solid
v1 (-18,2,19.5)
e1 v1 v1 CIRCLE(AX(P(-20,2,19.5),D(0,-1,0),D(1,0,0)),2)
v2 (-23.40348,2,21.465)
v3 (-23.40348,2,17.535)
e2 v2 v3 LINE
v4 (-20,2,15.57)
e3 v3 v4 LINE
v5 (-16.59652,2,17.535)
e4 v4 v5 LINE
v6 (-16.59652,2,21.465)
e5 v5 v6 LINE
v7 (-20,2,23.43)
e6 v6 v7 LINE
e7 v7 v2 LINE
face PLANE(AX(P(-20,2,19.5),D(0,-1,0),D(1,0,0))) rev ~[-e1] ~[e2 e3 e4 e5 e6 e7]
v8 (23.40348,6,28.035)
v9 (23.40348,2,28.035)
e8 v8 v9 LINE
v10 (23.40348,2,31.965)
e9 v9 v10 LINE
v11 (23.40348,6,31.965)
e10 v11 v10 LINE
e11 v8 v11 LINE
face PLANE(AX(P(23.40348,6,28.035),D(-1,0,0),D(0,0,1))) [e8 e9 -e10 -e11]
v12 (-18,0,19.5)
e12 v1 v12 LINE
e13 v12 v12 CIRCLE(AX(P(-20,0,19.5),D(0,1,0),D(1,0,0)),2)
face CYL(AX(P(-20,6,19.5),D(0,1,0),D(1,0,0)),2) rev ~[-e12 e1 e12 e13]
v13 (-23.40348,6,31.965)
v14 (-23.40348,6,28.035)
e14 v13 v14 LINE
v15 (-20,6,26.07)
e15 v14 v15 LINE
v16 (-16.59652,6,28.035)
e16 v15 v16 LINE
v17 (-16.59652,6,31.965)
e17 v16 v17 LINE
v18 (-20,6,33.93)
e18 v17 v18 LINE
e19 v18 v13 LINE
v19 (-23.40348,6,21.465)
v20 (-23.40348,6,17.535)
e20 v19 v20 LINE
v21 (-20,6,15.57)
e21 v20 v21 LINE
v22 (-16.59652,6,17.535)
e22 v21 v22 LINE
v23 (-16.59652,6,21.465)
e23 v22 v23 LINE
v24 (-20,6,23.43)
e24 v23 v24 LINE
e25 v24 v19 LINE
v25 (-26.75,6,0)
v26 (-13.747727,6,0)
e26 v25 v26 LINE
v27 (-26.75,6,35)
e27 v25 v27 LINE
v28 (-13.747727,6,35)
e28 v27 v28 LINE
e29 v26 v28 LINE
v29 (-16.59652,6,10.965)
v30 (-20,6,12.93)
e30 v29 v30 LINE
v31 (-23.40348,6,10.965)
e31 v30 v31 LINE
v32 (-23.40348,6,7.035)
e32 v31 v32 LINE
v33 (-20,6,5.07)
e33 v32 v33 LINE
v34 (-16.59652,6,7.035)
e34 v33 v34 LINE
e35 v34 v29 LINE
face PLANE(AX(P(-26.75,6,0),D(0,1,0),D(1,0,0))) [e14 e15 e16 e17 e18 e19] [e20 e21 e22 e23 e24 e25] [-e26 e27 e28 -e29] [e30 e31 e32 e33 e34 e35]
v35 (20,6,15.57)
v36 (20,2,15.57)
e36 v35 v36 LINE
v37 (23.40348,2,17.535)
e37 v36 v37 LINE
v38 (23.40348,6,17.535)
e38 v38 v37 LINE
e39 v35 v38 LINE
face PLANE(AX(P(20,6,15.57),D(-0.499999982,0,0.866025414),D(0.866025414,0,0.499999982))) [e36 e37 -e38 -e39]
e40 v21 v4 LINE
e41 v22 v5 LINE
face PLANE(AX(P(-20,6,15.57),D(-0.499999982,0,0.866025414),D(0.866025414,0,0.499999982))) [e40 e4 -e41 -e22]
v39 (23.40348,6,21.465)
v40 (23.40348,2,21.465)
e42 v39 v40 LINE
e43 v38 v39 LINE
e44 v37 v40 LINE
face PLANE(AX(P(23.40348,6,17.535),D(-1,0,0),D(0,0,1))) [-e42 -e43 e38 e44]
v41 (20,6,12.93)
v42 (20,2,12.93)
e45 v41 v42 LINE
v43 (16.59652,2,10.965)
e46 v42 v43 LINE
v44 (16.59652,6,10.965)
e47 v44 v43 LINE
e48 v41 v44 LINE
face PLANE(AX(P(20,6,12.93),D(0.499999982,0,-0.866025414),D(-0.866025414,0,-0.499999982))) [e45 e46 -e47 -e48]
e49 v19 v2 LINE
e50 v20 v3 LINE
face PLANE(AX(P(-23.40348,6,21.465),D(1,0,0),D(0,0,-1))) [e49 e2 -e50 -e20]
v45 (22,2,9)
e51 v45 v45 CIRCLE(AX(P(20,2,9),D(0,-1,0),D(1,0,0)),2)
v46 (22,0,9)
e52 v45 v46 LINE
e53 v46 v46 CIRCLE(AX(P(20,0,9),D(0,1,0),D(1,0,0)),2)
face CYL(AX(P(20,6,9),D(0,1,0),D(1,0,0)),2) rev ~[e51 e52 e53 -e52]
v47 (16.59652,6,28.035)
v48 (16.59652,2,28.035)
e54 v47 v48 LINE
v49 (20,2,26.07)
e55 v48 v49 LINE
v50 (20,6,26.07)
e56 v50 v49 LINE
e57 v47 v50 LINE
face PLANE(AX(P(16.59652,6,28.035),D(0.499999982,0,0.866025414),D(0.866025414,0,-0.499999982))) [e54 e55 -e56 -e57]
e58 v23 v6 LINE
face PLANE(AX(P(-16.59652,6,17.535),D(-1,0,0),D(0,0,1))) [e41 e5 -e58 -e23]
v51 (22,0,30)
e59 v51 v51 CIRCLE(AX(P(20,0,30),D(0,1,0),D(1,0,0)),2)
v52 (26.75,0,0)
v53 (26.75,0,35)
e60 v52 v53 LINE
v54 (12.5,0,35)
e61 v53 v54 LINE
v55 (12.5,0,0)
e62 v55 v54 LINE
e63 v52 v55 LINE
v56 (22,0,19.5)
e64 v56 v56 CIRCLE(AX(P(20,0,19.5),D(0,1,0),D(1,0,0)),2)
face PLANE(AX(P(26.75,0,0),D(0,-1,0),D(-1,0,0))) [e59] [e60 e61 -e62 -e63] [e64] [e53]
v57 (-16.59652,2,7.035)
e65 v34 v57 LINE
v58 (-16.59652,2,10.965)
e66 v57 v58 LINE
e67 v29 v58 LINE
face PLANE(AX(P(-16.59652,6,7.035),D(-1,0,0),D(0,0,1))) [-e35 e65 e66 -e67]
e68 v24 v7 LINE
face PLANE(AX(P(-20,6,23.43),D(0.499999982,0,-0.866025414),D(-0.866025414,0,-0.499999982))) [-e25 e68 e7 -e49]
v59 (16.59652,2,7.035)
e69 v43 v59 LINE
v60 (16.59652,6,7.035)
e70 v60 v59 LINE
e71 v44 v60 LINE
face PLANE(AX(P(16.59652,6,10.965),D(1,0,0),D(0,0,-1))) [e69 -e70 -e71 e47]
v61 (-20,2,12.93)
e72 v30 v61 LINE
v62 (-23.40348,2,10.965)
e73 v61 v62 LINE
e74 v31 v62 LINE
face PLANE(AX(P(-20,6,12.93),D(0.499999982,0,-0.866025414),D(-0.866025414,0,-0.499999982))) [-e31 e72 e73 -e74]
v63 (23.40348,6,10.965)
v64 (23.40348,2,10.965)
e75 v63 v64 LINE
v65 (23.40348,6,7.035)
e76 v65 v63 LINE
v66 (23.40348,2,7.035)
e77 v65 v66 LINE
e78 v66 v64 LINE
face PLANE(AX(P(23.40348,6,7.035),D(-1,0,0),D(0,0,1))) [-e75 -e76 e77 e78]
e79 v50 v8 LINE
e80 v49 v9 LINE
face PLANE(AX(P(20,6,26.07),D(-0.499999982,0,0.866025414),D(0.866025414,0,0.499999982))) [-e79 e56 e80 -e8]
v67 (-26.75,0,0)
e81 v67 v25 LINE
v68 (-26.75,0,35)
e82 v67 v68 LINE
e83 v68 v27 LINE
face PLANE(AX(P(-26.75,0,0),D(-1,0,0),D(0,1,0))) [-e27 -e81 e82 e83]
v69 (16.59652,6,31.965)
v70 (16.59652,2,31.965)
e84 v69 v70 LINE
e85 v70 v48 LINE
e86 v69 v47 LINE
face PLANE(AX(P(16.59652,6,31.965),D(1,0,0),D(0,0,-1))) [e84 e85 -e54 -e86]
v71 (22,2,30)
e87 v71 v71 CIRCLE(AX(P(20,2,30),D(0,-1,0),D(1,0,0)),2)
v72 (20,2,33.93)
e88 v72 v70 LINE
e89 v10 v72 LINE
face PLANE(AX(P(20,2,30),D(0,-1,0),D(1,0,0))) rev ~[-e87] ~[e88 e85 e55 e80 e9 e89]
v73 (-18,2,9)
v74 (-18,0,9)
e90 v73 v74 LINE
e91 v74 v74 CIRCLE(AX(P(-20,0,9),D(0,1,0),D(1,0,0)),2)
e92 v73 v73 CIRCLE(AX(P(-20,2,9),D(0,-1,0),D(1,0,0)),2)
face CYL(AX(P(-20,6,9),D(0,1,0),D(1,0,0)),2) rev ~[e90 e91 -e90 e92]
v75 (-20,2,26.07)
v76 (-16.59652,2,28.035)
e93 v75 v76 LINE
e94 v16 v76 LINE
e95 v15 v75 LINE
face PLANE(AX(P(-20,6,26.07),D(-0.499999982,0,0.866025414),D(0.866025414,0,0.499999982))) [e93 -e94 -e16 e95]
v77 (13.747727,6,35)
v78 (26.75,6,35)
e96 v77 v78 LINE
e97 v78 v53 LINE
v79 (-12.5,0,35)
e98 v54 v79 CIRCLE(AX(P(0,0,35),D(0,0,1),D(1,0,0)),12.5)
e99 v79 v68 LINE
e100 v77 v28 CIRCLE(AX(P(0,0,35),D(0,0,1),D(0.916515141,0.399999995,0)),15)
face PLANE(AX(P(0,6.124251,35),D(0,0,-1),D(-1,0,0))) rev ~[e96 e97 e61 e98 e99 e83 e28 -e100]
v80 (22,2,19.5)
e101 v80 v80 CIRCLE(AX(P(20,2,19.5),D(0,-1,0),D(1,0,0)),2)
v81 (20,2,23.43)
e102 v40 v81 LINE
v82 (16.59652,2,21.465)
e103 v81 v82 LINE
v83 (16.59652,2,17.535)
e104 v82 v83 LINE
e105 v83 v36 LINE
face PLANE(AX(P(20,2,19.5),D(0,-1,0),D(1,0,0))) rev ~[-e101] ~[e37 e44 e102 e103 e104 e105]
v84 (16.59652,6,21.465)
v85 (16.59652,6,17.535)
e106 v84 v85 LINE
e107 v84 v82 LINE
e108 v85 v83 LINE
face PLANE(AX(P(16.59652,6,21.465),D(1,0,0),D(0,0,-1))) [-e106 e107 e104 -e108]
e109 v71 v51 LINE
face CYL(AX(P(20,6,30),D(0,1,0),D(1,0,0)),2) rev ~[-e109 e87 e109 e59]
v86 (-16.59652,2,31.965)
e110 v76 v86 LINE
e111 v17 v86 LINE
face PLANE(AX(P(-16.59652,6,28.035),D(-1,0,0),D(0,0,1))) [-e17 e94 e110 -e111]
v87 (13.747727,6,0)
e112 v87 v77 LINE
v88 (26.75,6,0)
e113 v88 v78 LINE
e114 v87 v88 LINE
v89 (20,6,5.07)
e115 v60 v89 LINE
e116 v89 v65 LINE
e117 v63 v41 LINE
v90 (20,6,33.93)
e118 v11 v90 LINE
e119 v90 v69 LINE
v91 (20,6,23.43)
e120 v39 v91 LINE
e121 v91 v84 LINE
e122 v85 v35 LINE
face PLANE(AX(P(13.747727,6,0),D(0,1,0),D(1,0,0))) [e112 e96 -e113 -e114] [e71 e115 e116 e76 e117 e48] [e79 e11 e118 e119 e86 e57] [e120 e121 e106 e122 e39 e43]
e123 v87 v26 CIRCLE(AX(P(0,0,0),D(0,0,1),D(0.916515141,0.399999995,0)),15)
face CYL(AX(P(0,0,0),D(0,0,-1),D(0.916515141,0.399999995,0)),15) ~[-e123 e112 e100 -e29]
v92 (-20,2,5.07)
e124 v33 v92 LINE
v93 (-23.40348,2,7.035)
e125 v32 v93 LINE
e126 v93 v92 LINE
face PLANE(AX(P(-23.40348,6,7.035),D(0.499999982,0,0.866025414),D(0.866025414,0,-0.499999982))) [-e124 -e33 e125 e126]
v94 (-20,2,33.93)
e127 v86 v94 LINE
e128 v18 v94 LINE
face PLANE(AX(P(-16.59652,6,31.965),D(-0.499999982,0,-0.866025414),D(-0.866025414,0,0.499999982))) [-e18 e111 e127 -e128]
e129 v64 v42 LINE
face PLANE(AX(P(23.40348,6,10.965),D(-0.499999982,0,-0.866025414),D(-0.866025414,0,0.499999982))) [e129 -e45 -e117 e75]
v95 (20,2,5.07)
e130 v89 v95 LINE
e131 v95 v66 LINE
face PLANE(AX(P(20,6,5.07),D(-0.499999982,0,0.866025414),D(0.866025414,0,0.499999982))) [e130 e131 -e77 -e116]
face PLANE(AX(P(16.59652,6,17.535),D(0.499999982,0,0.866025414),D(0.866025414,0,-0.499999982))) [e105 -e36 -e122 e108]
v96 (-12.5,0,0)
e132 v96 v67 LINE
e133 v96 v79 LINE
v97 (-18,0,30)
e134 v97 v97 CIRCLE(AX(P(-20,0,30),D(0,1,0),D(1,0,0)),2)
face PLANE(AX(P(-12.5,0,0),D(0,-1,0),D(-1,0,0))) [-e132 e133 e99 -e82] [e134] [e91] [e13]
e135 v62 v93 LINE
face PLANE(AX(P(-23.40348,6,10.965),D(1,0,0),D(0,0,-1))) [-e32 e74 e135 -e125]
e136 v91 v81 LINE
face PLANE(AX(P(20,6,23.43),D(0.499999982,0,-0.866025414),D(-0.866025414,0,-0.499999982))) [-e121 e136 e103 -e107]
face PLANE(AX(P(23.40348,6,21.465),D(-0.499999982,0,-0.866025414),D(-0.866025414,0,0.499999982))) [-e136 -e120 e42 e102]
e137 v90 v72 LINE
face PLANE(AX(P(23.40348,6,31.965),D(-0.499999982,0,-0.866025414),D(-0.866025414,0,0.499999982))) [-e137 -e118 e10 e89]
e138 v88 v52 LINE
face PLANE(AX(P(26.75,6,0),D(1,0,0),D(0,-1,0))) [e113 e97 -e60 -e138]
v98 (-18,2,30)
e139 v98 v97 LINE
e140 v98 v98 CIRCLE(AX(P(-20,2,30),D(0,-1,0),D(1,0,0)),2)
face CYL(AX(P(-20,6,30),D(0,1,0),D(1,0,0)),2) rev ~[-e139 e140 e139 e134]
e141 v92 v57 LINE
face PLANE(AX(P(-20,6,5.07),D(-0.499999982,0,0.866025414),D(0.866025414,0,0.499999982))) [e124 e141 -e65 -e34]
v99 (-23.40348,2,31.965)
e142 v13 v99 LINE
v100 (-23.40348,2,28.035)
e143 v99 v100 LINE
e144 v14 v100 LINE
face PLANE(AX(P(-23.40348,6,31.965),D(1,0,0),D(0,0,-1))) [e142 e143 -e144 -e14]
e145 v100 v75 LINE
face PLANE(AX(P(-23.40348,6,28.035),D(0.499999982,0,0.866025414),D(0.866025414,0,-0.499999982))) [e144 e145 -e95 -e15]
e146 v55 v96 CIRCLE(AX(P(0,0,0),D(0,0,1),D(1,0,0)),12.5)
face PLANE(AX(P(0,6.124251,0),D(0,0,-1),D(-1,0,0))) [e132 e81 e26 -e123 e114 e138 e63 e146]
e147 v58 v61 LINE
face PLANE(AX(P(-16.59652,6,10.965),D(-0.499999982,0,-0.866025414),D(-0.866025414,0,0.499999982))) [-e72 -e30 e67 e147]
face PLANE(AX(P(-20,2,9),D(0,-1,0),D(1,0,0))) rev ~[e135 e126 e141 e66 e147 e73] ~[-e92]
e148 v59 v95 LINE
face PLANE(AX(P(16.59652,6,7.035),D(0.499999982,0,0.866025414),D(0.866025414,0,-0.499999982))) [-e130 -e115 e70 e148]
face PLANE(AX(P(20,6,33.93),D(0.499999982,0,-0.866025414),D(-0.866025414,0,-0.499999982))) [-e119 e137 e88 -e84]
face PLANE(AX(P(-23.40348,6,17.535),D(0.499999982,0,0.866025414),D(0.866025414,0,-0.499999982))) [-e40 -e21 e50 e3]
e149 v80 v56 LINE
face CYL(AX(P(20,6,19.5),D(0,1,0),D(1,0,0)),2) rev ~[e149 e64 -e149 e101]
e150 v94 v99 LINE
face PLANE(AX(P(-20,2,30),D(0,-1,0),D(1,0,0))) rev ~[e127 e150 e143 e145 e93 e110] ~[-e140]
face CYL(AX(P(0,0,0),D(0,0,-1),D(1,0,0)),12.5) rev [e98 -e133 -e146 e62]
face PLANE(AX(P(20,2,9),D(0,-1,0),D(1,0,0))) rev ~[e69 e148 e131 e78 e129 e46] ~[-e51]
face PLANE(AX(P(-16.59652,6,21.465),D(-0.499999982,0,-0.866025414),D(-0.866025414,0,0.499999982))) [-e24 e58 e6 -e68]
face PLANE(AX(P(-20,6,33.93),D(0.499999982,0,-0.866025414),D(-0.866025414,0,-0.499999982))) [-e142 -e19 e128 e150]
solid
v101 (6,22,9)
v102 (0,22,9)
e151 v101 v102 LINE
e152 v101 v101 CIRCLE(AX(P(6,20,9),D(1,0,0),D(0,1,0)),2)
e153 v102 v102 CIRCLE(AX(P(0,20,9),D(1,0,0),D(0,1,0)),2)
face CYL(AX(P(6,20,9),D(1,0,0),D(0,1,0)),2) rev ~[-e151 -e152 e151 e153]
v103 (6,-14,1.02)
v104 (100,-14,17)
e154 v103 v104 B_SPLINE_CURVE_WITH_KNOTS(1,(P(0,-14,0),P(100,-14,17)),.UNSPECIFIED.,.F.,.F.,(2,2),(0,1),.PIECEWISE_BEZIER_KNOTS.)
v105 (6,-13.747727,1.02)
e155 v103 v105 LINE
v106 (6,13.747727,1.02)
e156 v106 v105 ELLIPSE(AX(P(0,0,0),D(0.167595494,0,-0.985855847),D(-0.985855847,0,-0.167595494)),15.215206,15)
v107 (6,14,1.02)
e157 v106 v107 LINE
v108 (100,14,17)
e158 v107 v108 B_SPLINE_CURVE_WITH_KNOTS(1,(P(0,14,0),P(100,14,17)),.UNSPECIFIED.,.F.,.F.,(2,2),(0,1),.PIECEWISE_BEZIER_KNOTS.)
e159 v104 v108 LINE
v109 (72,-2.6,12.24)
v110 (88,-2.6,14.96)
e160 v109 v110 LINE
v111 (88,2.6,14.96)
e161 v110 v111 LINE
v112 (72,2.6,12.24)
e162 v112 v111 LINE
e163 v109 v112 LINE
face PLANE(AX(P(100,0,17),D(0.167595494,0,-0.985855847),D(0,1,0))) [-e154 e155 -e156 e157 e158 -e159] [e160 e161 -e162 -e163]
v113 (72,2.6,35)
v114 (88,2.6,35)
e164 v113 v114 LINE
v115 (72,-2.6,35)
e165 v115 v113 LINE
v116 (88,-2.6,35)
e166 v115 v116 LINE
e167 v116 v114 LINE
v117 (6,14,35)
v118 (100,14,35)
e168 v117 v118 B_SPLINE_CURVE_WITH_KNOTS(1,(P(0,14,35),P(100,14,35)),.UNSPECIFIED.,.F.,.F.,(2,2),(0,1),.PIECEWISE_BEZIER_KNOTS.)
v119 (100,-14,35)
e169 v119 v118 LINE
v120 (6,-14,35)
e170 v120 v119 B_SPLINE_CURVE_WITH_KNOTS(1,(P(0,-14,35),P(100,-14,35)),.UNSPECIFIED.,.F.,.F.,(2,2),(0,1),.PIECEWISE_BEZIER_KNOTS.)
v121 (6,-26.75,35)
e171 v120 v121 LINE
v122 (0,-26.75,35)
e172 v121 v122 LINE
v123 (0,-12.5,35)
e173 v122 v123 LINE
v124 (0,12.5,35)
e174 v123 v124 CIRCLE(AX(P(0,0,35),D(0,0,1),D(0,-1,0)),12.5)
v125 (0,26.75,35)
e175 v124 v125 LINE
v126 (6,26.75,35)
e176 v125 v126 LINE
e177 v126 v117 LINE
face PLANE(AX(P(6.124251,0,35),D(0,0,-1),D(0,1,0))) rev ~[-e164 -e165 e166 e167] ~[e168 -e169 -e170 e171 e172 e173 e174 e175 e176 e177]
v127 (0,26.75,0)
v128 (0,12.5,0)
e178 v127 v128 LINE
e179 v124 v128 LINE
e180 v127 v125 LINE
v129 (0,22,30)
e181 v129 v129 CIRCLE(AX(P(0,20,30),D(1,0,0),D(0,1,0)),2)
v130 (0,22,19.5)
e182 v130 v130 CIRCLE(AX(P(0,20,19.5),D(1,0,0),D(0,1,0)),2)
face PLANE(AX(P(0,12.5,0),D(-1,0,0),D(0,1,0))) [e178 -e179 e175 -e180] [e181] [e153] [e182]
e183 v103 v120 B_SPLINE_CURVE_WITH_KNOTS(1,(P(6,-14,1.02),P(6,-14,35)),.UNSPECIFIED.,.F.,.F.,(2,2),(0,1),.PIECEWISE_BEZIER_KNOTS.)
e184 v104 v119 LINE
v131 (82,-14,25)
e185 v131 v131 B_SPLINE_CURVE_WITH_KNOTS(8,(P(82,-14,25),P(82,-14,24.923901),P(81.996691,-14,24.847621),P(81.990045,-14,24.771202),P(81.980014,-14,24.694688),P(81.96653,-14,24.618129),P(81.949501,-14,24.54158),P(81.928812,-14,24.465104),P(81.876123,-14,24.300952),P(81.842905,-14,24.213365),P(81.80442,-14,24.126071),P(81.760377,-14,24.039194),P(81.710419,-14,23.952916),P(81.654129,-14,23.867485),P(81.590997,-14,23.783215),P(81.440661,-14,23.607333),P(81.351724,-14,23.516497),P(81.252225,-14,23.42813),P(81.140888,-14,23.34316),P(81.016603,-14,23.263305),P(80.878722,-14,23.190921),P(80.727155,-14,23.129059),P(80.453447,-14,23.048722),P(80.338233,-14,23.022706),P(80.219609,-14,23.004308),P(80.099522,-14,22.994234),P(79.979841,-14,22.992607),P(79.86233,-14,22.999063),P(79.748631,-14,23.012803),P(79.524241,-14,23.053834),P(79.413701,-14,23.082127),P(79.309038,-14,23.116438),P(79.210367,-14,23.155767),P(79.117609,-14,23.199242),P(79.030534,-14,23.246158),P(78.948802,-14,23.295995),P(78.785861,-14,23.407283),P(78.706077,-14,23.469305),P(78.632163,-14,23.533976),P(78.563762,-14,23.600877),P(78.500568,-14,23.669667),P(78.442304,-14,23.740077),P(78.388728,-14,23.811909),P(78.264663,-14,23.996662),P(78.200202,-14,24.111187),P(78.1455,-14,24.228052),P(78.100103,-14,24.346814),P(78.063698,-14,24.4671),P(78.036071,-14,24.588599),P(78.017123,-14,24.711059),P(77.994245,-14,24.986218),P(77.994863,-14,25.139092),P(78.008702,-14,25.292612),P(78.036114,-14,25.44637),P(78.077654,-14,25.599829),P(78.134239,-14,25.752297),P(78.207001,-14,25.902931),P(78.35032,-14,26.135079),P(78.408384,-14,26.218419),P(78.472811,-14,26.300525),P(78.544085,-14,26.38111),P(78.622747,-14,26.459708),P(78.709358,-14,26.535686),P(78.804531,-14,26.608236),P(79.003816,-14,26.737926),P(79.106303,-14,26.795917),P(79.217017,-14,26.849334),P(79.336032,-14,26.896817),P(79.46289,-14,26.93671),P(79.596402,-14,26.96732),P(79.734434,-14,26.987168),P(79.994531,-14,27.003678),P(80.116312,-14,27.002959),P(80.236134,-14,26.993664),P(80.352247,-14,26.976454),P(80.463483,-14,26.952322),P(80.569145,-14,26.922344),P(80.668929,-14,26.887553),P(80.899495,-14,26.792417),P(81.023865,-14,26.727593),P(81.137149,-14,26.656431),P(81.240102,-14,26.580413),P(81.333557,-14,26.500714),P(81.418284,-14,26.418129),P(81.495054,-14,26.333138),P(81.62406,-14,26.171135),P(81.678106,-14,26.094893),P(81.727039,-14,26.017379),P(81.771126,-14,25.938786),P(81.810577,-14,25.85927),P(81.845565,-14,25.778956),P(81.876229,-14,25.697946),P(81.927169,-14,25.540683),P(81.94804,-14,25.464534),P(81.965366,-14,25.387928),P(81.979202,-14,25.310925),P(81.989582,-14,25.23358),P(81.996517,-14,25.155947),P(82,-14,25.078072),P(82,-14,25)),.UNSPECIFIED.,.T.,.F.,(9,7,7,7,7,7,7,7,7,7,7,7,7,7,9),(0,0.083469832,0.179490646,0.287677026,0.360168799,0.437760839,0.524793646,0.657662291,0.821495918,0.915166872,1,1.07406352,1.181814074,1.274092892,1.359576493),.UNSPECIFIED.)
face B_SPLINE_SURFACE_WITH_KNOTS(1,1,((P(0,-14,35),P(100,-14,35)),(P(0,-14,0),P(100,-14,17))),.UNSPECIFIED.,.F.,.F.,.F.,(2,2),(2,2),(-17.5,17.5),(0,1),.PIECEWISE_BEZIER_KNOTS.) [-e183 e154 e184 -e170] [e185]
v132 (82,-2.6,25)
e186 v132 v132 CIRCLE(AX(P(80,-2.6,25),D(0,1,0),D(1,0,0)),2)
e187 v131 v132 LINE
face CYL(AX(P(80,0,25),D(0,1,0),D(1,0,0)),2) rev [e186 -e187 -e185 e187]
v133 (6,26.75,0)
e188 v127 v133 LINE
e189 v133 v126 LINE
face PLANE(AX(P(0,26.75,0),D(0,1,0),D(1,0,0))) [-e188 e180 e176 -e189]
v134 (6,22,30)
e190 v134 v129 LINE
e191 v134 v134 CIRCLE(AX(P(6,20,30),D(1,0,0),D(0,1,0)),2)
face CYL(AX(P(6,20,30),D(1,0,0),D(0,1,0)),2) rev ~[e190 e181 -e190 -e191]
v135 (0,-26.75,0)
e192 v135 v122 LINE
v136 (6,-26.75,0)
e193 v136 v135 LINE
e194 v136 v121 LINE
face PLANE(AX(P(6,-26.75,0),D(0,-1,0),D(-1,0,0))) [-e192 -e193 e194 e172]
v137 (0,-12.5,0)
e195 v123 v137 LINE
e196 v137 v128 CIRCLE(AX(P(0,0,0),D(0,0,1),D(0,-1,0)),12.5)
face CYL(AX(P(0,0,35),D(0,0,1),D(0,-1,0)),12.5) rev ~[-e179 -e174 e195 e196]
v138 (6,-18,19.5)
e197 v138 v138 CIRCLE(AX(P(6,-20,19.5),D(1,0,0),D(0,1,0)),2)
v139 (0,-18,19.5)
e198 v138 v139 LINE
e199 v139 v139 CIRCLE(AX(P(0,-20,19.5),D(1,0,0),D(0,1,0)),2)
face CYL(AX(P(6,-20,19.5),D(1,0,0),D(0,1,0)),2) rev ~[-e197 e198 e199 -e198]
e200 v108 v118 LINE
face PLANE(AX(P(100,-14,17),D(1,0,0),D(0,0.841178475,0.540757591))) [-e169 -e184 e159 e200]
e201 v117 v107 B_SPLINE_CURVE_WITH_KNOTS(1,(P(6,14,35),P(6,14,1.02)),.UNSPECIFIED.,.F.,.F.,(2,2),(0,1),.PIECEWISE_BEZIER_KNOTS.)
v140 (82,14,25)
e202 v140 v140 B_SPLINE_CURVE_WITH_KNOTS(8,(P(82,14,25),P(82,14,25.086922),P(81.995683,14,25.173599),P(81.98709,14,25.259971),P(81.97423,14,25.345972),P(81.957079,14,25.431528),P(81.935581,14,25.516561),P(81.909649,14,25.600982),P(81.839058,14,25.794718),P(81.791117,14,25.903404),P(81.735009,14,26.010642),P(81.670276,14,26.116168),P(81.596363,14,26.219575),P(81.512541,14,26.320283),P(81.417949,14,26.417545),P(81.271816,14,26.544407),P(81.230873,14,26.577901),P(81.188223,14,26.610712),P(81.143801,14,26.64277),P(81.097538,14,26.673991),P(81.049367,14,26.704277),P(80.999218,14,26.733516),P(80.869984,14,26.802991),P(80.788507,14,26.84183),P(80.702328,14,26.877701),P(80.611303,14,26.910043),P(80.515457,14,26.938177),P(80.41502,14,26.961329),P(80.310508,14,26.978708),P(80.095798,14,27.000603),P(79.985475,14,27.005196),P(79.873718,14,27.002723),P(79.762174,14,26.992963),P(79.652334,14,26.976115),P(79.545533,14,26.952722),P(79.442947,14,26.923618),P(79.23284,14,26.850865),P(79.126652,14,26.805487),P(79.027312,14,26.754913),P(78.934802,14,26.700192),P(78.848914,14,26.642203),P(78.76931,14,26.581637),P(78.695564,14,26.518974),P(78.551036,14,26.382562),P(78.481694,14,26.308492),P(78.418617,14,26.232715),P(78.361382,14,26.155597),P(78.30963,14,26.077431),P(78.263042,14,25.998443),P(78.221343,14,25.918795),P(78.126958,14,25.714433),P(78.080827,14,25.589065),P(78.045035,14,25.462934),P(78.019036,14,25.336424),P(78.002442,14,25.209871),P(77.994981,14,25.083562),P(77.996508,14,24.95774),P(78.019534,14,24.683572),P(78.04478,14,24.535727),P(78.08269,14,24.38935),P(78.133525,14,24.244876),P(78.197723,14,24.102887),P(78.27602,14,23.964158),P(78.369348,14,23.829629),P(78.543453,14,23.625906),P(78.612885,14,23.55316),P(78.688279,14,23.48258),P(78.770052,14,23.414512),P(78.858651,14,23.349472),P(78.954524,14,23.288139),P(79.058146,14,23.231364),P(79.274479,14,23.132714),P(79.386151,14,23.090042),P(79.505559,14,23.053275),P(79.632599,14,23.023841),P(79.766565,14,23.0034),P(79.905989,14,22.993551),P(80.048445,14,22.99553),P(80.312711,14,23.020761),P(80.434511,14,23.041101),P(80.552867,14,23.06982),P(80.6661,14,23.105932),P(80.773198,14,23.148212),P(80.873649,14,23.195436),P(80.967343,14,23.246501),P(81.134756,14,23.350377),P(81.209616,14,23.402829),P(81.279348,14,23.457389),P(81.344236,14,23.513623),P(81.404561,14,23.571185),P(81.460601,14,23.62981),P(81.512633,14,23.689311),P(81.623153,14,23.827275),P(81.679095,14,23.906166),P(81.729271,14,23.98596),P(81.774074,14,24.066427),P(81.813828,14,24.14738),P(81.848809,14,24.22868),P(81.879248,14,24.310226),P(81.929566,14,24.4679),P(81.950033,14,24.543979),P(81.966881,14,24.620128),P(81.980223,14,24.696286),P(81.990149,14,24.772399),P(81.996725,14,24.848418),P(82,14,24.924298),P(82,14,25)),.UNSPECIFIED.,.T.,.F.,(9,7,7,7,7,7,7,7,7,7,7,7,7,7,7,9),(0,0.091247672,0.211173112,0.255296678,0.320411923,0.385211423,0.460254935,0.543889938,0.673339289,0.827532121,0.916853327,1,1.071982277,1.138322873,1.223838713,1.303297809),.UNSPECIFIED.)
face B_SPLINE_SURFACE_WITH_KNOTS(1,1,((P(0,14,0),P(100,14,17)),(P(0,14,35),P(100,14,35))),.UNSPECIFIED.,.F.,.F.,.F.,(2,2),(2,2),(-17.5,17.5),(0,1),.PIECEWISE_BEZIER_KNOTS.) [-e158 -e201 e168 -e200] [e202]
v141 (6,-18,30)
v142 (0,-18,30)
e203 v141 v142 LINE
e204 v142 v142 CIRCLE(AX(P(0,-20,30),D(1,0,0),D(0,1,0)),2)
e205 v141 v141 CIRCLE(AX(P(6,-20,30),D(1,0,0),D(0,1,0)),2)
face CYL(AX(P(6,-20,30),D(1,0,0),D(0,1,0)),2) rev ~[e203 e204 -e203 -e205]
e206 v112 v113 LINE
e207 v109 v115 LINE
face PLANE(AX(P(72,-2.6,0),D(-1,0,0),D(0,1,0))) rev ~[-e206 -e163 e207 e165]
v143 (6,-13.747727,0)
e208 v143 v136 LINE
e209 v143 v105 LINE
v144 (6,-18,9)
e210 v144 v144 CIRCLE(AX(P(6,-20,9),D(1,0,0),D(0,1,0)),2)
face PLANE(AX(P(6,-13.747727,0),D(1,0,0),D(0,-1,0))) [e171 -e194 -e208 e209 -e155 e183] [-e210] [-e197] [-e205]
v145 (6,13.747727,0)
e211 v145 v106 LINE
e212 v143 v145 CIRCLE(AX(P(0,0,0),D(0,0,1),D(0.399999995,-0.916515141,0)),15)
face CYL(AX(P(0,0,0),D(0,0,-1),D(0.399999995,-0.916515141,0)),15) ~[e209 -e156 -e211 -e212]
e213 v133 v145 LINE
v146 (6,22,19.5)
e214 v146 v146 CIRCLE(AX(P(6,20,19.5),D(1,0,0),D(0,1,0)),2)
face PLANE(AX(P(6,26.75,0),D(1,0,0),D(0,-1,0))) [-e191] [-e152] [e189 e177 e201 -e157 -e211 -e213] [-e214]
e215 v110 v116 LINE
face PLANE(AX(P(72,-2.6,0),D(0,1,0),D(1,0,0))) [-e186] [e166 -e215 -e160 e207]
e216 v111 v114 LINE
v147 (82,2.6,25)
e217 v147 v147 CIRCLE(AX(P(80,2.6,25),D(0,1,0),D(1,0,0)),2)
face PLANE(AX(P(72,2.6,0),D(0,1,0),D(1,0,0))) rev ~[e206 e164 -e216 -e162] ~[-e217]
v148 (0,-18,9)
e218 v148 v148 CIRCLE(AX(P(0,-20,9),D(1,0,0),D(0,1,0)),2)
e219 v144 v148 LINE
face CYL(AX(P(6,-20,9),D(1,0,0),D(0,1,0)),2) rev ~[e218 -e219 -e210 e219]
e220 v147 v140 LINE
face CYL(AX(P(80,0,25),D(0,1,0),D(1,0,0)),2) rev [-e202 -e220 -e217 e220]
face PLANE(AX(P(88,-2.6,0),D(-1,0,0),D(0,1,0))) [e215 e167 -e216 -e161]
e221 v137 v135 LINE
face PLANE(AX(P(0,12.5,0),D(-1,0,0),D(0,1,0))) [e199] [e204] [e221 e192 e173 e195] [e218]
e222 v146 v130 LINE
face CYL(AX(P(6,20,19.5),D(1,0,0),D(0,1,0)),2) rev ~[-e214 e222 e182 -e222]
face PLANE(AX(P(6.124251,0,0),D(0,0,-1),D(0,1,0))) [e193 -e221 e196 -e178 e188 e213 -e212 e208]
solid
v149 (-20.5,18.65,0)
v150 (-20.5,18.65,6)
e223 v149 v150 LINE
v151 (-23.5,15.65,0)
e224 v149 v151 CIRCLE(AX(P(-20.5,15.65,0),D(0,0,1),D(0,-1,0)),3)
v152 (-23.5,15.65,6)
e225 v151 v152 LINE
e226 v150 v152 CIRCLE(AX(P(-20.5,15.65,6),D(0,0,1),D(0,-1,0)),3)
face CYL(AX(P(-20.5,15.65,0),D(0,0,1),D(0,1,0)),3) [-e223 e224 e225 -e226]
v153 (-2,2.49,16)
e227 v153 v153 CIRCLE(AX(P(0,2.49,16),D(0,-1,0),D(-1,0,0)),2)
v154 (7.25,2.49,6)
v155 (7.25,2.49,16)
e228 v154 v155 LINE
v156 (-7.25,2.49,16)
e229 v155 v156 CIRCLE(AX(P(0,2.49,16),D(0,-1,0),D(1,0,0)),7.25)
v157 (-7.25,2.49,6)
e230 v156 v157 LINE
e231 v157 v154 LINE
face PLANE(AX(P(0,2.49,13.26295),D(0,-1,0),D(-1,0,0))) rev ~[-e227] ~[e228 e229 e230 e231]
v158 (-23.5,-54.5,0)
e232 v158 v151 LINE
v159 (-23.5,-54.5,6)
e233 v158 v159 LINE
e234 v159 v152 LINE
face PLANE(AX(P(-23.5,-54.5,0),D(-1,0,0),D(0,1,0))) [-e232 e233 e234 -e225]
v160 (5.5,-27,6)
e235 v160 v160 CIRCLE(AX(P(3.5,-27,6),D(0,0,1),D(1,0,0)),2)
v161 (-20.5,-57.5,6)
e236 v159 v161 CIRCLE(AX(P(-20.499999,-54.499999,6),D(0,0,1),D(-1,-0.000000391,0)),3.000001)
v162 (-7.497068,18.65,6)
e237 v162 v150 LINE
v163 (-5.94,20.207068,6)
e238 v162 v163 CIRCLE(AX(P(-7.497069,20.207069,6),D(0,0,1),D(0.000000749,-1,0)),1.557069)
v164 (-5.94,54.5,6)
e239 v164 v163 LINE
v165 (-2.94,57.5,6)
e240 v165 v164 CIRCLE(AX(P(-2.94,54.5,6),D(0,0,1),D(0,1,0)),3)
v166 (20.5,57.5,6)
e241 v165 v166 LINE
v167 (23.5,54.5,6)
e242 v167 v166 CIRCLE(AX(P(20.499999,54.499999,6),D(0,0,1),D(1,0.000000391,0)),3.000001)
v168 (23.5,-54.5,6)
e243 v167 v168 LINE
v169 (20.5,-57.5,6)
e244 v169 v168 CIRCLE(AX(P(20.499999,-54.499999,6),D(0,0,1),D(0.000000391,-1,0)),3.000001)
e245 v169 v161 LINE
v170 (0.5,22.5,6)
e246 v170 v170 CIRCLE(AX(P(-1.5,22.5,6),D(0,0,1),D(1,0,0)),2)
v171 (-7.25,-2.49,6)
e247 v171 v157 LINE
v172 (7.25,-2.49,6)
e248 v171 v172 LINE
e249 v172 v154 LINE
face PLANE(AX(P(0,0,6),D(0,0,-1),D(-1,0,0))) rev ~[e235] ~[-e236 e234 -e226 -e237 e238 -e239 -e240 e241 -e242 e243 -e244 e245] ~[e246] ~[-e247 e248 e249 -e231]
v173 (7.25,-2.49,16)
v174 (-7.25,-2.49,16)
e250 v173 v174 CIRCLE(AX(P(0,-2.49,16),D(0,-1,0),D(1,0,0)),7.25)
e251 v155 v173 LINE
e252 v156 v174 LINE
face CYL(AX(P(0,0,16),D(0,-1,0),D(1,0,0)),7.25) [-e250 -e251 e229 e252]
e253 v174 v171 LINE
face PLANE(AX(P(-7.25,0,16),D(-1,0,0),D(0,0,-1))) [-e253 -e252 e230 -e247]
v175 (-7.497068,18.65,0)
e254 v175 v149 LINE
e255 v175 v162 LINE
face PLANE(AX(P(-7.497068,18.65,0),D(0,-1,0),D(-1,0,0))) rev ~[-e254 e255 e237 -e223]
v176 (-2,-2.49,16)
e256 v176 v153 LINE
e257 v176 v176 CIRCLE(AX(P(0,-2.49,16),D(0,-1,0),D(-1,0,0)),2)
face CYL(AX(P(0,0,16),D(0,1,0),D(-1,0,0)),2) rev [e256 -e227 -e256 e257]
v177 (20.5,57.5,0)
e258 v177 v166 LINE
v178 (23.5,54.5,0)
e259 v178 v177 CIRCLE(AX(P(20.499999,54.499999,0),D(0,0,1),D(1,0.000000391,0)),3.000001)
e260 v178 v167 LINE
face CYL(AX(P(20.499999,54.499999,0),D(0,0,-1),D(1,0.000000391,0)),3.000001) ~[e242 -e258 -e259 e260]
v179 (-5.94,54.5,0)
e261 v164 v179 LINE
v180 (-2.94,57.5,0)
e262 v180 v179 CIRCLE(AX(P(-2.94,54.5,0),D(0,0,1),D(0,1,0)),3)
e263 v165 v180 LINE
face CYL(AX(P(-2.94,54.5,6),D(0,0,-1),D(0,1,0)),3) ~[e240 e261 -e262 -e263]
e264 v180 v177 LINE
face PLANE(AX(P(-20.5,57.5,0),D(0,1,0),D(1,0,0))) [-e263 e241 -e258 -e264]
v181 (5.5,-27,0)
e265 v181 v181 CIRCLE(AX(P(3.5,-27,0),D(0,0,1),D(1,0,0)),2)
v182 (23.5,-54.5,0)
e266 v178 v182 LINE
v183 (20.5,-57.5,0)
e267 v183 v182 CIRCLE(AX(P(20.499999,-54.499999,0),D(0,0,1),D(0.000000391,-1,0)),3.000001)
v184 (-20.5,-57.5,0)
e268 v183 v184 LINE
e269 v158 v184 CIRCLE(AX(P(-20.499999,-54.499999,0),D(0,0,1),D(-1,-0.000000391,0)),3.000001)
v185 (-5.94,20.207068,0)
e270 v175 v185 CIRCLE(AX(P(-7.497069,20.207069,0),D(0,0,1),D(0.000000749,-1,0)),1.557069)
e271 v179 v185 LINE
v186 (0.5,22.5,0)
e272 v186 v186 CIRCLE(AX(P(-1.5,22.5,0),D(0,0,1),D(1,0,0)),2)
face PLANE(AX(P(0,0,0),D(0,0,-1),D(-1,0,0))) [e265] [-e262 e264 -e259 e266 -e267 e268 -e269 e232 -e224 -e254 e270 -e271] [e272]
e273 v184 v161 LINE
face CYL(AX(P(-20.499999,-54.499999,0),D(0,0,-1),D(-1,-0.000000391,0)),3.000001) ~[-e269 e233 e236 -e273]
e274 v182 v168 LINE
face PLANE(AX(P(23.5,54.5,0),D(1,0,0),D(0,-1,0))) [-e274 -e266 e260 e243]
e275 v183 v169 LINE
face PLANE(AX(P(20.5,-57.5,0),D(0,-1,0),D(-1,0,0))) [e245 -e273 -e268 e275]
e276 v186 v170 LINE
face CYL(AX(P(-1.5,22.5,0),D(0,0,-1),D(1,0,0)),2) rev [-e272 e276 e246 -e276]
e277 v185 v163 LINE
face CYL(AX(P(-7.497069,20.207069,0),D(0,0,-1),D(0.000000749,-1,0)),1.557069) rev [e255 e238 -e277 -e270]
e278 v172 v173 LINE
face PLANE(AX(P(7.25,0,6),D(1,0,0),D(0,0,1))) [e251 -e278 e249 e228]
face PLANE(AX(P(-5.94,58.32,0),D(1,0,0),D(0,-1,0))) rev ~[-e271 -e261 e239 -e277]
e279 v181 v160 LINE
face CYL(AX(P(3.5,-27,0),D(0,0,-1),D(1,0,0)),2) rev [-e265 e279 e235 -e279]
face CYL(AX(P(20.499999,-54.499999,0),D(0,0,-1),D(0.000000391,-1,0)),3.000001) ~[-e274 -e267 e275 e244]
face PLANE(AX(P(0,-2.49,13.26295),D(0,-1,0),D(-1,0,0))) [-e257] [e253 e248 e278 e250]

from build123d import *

# Parameters (mm, degrees)
SKETCH_W                  = 28
SKETCH_H                  = 35
SKETCH001_W               = 28
SKETCH001_H               = 18
PAD_DEPTH                 = 35
POCKET_DEPTH              = 35
SKETCH005_R               = 2
POCKET001_DEPTH           = 26.751
POCKET001_DEPTH_BACK      = -26.751
SKETCH006_W               = 16
SKETCH006_H               = 5.2
POCKET002_DEPTH           = 35.001
SKETCH011_R               = 2
POCKET011_DEPTH           = 6.001
LINEARPATTERN_COUNT       = 3
LINEARPATTERN_PITCH       = 10.5
SKETCH003_R               = 2
PAD001_DEPTH              = 6
SKETCH004_R               = 2
PAD002_DEPTH              = 2.49
POCKET012_DEPTH           = 6
FILLET_R                  = 3
PAD004_DEPTH              = 35
SKETCH010_R               = 2
POCKET004_DEPTH           = 4
LINEARPATTERN001_COUNT    = 3
LINEARPATTERN001_PITCH    = 10.5
LINEARPATTERN001_FACE56_R = 2
POCKET005_DEPTH           = 6.001
POCKET005_FACE56_R        = 2
POCKET006_DEPTH           = 6.001
POCKET006_FACE56_R        = 2
POCKET007_DEPTH           = 6.001
POCKET007_FACE59_R        = 2
POCKET008_DEPTH           = 6.001
POCKET008_FACE59_R        = 2
POCKET009_DEPTH           = 6.001
POCKET009_FACE59_R        = 2
POCKET010_DEPTH           = 6.001


with BuildPart() as body_arm:
    # Sketch → AdditiveLoft section 0
    with BuildSketch(Plane.YZ):
        with Locations((0, 17.5)):
            Rectangle(SKETCH_W, SKETCH_H)
    # Sketch001 → AdditiveLoft section 1
    with BuildSketch(Plane.YZ.offset(100)):
        with Locations((0, 26)):
            Rectangle(SKETCH001_W, SKETCH001_H)
    loft()


with BuildPart() as body_arm001:
    # Sketch002 → Pad (new body)
    with BuildSketch(Plane(origin=(0, 0, 0), x_dir=(0, -1, 0), z_dir=(0, 0, 1))):
        with BuildLine():
            ThreePointArc((12.5, 0), (0, 12.5), (-12.5, 0))
            Line((-12.5, 0), (-26.75, 0))
            Line((-26.75, 0), (-26.75, 6))
            Line((-26.75, 6), (-13.747727, 6))
            ThreePointArc((13.747727, 6), (0, 15), (-13.747727, 6))
            Line((13.747727, 6), (26.75, 6))
            Line((26.75, 6), (26.75, 0))
            Line((26.75, 0), (12.5, 0))
        make_face()
    extrude(amount=PAD_DEPTH)

    # Boolean: union Body_Arm
    add(body_arm.part)

    # Boolean Face22 → Pocket (cut)
    with BuildSketch(Plane(origin=(5.305165, 0, 35), x_dir=(0, 1, 0), z_dir=(0, 0, 1))):
        with BuildLine():
            ThreePointArc((-12.5, 5.305165), (0, -7.194835), (12.5, 5.305165))
            Line((12.5, 5.305165), (-12.5, 5.305165))
        make_face()
    extrude(amount=-POCKET_DEPTH, mode=Mode.SUBTRACT)

    # Sketch005 → Pocket001 (cut, two sides)
    with BuildSketch(Plane.XZ) as pocket001_sk:
        with Locations((80, 25)):
            Circle(SKETCH005_R)
    extrude(amount=-POCKET001_DEPTH, mode=Mode.SUBTRACT)
    extrude(pocket001_sk.sketch, amount=-POCKET001_DEPTH_BACK, mode=Mode.SUBTRACT)

    # Sketch006 → Pocket002 (cut, through all)
    with BuildSketch(Plane.XY):
        with Locations((80, 0)):
            Rectangle(SKETCH006_W, SKETCH006_H)
    extrude(amount=POCKET002_DEPTH, mode=Mode.SUBTRACT)

    # Sketch011 → Pocket011 (cut, through all)
    with BuildSketch(Plane.YZ.offset(6)):
        with Locations((-20, 30)):
            Circle(SKETCH011_R)
        with Locations((20, 30)):
            Circle(SKETCH011_R)
    pocket011 = extrude(amount=-POCKET011_DEPTH, mode=Mode.SUBTRACT)

    # LinearPattern: Pocket011 ×3
    with Locations(*[(0, 0, -i * LINEARPATTERN_PITCH) for i in range(1, LINEARPATTERN_COUNT)]):
        add(pocket011, mode=Mode.SUBTRACT)


with BuildPart() as body_top_plate:
    # Sketch003 → Pad001 (new body)
    with BuildSketch(Plane.XY):
        with BuildLine():
            Line((-20.5, 57.5), (20.5, 57.5))
            ThreePointArc((23.5, 54.5), (22.62132, 56.62132), (20.5, 57.5))
            Line((23.5, 54.5), (23.5, -54.5))
            ThreePointArc((20.5, -57.5), (22.62132, -56.62132), (23.5, -54.5))
            Line((20.5, -57.5), (-20.5, -57.5))
            ThreePointArc((-23.5, -54.5), (-22.62132, -56.62132), (-20.5, -57.5))
            Line((-23.5, -54.5), (-23.5, 54.5))
            ThreePointArc((-20.5, 57.5), (-22.62132, 56.62132), (-23.5, 54.5))
        make_face()
        with Locations((-1.5, 22.5)):
            Circle(SKETCH003_R, mode=Mode.SUBTRACT)
        with Locations((3.5, -27)):
            Circle(SKETCH003_R, mode=Mode.SUBTRACT)
    extrude(amount=PAD001_DEPTH)

    # Sketch004 → Pad002 (join, symmetric)
    with BuildSketch(Plane(origin=(0, 0, 6), x_dir=(-1, 0, 0), z_dir=(0, -1, 0))):
        with BuildLine():
            Line((-7.25, 0), (-7.25, -10))
            ThreePointArc((-7.25, -10), (0, -17.25), (7.25, -10))
            Line((7.25, -10), (7.25, 0))
            Line((7.25, 0), (-7.25, 0))
        make_face()
        with Locations((0, -10)):
            Circle(SKETCH004_R, mode=Mode.SUBTRACT)
    extrude(amount=PAD002_DEPTH, both=True)

    # Sketch012 → Pocket012 (cut)
    with BuildSketch(Plane(origin=(0, -1, 0), x_dir=(1, 0, 0), z_dir=(0, 0, 1))):
        with BuildLine():
            Line((-25.37, 59.32), (-5.94, 59.32))
            Line((-5.94, 59.32), (-5.94, 21.207068))
            ThreePointArc((-7.497068, 19.65), (-6.396055, 20.106055), (-5.94, 21.207068))
            Line((-7.497068, 19.65), (-23.59, 19.65))
            ThreePointArc((-25.37, 21.43), (-24.84865, 20.17135), (-23.59, 19.65))
            Line((-25.37, 21.43), (-25.37, 59.32))
        make_face()
    extrude(amount=POCKET012_DEPTH, mode=Mode.SUBTRACT)

    # Fillet
    fillet_edges = [body_top_plate.edges().sort_by_distance(p)[0] for p in [
        (-5.94, 57.5, 3),
        (-23.5, 18.65, 3),
    ]]
    fillet(fillet_edges, radius=FILLET_R)


with BuildPart() as body_single_clamp_revamp:
    # Sketch009 → Pad004 (new body)
    with BuildSketch(Plane.XY):
        with BuildLine():
            ThreePointArc((12.5, 0), (0, 12.5), (-12.5, 0))
            Line((-12.5, 0), (-26.75, 0))
            Line((-26.75, 0), (-26.75, 6))
            Line((-26.75, 6), (-13.747727, 6))
            ThreePointArc((13.747727, 6), (0, 15), (-13.747727, 6))
            Line((13.747727, 6), (26.75, 6))
            Line((26.75, 6), (26.75, 0))
            Line((26.75, 0), (12.5, 0))
        make_face()
    extrude(amount=PAD004_DEPTH)

    # Sketch010 → Pocket004 (cut)
    with BuildSketch(Plane.XZ.offset(-6)):
        Polygon((-16.59652, 28.035), (-16.59652, 31.965), (-20, 33.93), (-23.40348, 31.965), (-23.40348, 28.035), (-20, 26.07), align=None)
        with Locations((-20, 30)):
            Circle(SKETCH010_R, mode=Mode.SUBTRACT)
        Polygon((23.40348, 28.035), (23.40348, 31.965), (20, 33.93), (16.59652, 31.965), (16.59652, 28.035), (20, 26.07), align=None)
        with Locations((20, 30)):
            Circle(SKETCH010_R, mode=Mode.SUBTRACT)
    pocket004 = extrude(amount=POCKET004_DEPTH, mode=Mode.SUBTRACT)

    # LinearPattern001: Pocket004 ×3
    with Locations(*[(0, 0, -i * LINEARPATTERN001_PITCH) for i in range(1, LINEARPATTERN001_COUNT)]):
        add(pocket004, mode=Mode.SUBTRACT)

    # LinearPattern001 Face56 → Pocket005 (cut, through all)
    with BuildSketch(Plane(origin=(20, 6, 30), x_dir=(1, 0, 0), z_dir=(0, 1, 0))):
        Circle(LINEARPATTERN001_FACE56_R)
    extrude(amount=-POCKET005_DEPTH, mode=Mode.SUBTRACT)

    # Pocket005 Face56 → Pocket006 (cut, through all)
    with BuildSketch(Plane(origin=(20, 6, 19.5), x_dir=(1, 0, 0), z_dir=(0, 1, 0))):
        Circle(POCKET005_FACE56_R)
    extrude(amount=-POCKET006_DEPTH, mode=Mode.SUBTRACT)

    # Pocket006 Face56 → Pocket007 (cut, through all)
    with BuildSketch(Plane(origin=(20, 6, 9), x_dir=(1, 0, 0), z_dir=(0, 1, 0))):
        Circle(POCKET006_FACE56_R)
    extrude(amount=-POCKET007_DEPTH, mode=Mode.SUBTRACT)

    # Pocket007 Face59 → Pocket008 (cut, through all)
    with BuildSketch(Plane(origin=(-20, 6, 30), x_dir=(1, 0, 0), z_dir=(0, 1, 0))):
        Circle(POCKET007_FACE59_R)
    extrude(amount=-POCKET008_DEPTH, mode=Mode.SUBTRACT)

    # Pocket008 Face59 → Pocket009 (cut, through all)
    with BuildSketch(Plane(origin=(-20, 6, 19.5), x_dir=(1, 0, 0), z_dir=(0, 1, 0))):
        Circle(POCKET008_FACE59_R)
    extrude(amount=-POCKET009_DEPTH, mode=Mode.SUBTRACT)

    # Pocket009 Face59 → Pocket010 (cut, through all)
    with BuildSketch(Plane(origin=(-20, 6, 9), x_dir=(1, 0, 0), z_dir=(0, 1, 0))):
        Circle(POCKET009_FACE59_R)
    extrude(amount=-POCKET010_DEPTH, mode=Mode.SUBTRACT)


solid = Compound([body_arm001.part, body_top_plate.part, body_single_clamp_revamp.part])
